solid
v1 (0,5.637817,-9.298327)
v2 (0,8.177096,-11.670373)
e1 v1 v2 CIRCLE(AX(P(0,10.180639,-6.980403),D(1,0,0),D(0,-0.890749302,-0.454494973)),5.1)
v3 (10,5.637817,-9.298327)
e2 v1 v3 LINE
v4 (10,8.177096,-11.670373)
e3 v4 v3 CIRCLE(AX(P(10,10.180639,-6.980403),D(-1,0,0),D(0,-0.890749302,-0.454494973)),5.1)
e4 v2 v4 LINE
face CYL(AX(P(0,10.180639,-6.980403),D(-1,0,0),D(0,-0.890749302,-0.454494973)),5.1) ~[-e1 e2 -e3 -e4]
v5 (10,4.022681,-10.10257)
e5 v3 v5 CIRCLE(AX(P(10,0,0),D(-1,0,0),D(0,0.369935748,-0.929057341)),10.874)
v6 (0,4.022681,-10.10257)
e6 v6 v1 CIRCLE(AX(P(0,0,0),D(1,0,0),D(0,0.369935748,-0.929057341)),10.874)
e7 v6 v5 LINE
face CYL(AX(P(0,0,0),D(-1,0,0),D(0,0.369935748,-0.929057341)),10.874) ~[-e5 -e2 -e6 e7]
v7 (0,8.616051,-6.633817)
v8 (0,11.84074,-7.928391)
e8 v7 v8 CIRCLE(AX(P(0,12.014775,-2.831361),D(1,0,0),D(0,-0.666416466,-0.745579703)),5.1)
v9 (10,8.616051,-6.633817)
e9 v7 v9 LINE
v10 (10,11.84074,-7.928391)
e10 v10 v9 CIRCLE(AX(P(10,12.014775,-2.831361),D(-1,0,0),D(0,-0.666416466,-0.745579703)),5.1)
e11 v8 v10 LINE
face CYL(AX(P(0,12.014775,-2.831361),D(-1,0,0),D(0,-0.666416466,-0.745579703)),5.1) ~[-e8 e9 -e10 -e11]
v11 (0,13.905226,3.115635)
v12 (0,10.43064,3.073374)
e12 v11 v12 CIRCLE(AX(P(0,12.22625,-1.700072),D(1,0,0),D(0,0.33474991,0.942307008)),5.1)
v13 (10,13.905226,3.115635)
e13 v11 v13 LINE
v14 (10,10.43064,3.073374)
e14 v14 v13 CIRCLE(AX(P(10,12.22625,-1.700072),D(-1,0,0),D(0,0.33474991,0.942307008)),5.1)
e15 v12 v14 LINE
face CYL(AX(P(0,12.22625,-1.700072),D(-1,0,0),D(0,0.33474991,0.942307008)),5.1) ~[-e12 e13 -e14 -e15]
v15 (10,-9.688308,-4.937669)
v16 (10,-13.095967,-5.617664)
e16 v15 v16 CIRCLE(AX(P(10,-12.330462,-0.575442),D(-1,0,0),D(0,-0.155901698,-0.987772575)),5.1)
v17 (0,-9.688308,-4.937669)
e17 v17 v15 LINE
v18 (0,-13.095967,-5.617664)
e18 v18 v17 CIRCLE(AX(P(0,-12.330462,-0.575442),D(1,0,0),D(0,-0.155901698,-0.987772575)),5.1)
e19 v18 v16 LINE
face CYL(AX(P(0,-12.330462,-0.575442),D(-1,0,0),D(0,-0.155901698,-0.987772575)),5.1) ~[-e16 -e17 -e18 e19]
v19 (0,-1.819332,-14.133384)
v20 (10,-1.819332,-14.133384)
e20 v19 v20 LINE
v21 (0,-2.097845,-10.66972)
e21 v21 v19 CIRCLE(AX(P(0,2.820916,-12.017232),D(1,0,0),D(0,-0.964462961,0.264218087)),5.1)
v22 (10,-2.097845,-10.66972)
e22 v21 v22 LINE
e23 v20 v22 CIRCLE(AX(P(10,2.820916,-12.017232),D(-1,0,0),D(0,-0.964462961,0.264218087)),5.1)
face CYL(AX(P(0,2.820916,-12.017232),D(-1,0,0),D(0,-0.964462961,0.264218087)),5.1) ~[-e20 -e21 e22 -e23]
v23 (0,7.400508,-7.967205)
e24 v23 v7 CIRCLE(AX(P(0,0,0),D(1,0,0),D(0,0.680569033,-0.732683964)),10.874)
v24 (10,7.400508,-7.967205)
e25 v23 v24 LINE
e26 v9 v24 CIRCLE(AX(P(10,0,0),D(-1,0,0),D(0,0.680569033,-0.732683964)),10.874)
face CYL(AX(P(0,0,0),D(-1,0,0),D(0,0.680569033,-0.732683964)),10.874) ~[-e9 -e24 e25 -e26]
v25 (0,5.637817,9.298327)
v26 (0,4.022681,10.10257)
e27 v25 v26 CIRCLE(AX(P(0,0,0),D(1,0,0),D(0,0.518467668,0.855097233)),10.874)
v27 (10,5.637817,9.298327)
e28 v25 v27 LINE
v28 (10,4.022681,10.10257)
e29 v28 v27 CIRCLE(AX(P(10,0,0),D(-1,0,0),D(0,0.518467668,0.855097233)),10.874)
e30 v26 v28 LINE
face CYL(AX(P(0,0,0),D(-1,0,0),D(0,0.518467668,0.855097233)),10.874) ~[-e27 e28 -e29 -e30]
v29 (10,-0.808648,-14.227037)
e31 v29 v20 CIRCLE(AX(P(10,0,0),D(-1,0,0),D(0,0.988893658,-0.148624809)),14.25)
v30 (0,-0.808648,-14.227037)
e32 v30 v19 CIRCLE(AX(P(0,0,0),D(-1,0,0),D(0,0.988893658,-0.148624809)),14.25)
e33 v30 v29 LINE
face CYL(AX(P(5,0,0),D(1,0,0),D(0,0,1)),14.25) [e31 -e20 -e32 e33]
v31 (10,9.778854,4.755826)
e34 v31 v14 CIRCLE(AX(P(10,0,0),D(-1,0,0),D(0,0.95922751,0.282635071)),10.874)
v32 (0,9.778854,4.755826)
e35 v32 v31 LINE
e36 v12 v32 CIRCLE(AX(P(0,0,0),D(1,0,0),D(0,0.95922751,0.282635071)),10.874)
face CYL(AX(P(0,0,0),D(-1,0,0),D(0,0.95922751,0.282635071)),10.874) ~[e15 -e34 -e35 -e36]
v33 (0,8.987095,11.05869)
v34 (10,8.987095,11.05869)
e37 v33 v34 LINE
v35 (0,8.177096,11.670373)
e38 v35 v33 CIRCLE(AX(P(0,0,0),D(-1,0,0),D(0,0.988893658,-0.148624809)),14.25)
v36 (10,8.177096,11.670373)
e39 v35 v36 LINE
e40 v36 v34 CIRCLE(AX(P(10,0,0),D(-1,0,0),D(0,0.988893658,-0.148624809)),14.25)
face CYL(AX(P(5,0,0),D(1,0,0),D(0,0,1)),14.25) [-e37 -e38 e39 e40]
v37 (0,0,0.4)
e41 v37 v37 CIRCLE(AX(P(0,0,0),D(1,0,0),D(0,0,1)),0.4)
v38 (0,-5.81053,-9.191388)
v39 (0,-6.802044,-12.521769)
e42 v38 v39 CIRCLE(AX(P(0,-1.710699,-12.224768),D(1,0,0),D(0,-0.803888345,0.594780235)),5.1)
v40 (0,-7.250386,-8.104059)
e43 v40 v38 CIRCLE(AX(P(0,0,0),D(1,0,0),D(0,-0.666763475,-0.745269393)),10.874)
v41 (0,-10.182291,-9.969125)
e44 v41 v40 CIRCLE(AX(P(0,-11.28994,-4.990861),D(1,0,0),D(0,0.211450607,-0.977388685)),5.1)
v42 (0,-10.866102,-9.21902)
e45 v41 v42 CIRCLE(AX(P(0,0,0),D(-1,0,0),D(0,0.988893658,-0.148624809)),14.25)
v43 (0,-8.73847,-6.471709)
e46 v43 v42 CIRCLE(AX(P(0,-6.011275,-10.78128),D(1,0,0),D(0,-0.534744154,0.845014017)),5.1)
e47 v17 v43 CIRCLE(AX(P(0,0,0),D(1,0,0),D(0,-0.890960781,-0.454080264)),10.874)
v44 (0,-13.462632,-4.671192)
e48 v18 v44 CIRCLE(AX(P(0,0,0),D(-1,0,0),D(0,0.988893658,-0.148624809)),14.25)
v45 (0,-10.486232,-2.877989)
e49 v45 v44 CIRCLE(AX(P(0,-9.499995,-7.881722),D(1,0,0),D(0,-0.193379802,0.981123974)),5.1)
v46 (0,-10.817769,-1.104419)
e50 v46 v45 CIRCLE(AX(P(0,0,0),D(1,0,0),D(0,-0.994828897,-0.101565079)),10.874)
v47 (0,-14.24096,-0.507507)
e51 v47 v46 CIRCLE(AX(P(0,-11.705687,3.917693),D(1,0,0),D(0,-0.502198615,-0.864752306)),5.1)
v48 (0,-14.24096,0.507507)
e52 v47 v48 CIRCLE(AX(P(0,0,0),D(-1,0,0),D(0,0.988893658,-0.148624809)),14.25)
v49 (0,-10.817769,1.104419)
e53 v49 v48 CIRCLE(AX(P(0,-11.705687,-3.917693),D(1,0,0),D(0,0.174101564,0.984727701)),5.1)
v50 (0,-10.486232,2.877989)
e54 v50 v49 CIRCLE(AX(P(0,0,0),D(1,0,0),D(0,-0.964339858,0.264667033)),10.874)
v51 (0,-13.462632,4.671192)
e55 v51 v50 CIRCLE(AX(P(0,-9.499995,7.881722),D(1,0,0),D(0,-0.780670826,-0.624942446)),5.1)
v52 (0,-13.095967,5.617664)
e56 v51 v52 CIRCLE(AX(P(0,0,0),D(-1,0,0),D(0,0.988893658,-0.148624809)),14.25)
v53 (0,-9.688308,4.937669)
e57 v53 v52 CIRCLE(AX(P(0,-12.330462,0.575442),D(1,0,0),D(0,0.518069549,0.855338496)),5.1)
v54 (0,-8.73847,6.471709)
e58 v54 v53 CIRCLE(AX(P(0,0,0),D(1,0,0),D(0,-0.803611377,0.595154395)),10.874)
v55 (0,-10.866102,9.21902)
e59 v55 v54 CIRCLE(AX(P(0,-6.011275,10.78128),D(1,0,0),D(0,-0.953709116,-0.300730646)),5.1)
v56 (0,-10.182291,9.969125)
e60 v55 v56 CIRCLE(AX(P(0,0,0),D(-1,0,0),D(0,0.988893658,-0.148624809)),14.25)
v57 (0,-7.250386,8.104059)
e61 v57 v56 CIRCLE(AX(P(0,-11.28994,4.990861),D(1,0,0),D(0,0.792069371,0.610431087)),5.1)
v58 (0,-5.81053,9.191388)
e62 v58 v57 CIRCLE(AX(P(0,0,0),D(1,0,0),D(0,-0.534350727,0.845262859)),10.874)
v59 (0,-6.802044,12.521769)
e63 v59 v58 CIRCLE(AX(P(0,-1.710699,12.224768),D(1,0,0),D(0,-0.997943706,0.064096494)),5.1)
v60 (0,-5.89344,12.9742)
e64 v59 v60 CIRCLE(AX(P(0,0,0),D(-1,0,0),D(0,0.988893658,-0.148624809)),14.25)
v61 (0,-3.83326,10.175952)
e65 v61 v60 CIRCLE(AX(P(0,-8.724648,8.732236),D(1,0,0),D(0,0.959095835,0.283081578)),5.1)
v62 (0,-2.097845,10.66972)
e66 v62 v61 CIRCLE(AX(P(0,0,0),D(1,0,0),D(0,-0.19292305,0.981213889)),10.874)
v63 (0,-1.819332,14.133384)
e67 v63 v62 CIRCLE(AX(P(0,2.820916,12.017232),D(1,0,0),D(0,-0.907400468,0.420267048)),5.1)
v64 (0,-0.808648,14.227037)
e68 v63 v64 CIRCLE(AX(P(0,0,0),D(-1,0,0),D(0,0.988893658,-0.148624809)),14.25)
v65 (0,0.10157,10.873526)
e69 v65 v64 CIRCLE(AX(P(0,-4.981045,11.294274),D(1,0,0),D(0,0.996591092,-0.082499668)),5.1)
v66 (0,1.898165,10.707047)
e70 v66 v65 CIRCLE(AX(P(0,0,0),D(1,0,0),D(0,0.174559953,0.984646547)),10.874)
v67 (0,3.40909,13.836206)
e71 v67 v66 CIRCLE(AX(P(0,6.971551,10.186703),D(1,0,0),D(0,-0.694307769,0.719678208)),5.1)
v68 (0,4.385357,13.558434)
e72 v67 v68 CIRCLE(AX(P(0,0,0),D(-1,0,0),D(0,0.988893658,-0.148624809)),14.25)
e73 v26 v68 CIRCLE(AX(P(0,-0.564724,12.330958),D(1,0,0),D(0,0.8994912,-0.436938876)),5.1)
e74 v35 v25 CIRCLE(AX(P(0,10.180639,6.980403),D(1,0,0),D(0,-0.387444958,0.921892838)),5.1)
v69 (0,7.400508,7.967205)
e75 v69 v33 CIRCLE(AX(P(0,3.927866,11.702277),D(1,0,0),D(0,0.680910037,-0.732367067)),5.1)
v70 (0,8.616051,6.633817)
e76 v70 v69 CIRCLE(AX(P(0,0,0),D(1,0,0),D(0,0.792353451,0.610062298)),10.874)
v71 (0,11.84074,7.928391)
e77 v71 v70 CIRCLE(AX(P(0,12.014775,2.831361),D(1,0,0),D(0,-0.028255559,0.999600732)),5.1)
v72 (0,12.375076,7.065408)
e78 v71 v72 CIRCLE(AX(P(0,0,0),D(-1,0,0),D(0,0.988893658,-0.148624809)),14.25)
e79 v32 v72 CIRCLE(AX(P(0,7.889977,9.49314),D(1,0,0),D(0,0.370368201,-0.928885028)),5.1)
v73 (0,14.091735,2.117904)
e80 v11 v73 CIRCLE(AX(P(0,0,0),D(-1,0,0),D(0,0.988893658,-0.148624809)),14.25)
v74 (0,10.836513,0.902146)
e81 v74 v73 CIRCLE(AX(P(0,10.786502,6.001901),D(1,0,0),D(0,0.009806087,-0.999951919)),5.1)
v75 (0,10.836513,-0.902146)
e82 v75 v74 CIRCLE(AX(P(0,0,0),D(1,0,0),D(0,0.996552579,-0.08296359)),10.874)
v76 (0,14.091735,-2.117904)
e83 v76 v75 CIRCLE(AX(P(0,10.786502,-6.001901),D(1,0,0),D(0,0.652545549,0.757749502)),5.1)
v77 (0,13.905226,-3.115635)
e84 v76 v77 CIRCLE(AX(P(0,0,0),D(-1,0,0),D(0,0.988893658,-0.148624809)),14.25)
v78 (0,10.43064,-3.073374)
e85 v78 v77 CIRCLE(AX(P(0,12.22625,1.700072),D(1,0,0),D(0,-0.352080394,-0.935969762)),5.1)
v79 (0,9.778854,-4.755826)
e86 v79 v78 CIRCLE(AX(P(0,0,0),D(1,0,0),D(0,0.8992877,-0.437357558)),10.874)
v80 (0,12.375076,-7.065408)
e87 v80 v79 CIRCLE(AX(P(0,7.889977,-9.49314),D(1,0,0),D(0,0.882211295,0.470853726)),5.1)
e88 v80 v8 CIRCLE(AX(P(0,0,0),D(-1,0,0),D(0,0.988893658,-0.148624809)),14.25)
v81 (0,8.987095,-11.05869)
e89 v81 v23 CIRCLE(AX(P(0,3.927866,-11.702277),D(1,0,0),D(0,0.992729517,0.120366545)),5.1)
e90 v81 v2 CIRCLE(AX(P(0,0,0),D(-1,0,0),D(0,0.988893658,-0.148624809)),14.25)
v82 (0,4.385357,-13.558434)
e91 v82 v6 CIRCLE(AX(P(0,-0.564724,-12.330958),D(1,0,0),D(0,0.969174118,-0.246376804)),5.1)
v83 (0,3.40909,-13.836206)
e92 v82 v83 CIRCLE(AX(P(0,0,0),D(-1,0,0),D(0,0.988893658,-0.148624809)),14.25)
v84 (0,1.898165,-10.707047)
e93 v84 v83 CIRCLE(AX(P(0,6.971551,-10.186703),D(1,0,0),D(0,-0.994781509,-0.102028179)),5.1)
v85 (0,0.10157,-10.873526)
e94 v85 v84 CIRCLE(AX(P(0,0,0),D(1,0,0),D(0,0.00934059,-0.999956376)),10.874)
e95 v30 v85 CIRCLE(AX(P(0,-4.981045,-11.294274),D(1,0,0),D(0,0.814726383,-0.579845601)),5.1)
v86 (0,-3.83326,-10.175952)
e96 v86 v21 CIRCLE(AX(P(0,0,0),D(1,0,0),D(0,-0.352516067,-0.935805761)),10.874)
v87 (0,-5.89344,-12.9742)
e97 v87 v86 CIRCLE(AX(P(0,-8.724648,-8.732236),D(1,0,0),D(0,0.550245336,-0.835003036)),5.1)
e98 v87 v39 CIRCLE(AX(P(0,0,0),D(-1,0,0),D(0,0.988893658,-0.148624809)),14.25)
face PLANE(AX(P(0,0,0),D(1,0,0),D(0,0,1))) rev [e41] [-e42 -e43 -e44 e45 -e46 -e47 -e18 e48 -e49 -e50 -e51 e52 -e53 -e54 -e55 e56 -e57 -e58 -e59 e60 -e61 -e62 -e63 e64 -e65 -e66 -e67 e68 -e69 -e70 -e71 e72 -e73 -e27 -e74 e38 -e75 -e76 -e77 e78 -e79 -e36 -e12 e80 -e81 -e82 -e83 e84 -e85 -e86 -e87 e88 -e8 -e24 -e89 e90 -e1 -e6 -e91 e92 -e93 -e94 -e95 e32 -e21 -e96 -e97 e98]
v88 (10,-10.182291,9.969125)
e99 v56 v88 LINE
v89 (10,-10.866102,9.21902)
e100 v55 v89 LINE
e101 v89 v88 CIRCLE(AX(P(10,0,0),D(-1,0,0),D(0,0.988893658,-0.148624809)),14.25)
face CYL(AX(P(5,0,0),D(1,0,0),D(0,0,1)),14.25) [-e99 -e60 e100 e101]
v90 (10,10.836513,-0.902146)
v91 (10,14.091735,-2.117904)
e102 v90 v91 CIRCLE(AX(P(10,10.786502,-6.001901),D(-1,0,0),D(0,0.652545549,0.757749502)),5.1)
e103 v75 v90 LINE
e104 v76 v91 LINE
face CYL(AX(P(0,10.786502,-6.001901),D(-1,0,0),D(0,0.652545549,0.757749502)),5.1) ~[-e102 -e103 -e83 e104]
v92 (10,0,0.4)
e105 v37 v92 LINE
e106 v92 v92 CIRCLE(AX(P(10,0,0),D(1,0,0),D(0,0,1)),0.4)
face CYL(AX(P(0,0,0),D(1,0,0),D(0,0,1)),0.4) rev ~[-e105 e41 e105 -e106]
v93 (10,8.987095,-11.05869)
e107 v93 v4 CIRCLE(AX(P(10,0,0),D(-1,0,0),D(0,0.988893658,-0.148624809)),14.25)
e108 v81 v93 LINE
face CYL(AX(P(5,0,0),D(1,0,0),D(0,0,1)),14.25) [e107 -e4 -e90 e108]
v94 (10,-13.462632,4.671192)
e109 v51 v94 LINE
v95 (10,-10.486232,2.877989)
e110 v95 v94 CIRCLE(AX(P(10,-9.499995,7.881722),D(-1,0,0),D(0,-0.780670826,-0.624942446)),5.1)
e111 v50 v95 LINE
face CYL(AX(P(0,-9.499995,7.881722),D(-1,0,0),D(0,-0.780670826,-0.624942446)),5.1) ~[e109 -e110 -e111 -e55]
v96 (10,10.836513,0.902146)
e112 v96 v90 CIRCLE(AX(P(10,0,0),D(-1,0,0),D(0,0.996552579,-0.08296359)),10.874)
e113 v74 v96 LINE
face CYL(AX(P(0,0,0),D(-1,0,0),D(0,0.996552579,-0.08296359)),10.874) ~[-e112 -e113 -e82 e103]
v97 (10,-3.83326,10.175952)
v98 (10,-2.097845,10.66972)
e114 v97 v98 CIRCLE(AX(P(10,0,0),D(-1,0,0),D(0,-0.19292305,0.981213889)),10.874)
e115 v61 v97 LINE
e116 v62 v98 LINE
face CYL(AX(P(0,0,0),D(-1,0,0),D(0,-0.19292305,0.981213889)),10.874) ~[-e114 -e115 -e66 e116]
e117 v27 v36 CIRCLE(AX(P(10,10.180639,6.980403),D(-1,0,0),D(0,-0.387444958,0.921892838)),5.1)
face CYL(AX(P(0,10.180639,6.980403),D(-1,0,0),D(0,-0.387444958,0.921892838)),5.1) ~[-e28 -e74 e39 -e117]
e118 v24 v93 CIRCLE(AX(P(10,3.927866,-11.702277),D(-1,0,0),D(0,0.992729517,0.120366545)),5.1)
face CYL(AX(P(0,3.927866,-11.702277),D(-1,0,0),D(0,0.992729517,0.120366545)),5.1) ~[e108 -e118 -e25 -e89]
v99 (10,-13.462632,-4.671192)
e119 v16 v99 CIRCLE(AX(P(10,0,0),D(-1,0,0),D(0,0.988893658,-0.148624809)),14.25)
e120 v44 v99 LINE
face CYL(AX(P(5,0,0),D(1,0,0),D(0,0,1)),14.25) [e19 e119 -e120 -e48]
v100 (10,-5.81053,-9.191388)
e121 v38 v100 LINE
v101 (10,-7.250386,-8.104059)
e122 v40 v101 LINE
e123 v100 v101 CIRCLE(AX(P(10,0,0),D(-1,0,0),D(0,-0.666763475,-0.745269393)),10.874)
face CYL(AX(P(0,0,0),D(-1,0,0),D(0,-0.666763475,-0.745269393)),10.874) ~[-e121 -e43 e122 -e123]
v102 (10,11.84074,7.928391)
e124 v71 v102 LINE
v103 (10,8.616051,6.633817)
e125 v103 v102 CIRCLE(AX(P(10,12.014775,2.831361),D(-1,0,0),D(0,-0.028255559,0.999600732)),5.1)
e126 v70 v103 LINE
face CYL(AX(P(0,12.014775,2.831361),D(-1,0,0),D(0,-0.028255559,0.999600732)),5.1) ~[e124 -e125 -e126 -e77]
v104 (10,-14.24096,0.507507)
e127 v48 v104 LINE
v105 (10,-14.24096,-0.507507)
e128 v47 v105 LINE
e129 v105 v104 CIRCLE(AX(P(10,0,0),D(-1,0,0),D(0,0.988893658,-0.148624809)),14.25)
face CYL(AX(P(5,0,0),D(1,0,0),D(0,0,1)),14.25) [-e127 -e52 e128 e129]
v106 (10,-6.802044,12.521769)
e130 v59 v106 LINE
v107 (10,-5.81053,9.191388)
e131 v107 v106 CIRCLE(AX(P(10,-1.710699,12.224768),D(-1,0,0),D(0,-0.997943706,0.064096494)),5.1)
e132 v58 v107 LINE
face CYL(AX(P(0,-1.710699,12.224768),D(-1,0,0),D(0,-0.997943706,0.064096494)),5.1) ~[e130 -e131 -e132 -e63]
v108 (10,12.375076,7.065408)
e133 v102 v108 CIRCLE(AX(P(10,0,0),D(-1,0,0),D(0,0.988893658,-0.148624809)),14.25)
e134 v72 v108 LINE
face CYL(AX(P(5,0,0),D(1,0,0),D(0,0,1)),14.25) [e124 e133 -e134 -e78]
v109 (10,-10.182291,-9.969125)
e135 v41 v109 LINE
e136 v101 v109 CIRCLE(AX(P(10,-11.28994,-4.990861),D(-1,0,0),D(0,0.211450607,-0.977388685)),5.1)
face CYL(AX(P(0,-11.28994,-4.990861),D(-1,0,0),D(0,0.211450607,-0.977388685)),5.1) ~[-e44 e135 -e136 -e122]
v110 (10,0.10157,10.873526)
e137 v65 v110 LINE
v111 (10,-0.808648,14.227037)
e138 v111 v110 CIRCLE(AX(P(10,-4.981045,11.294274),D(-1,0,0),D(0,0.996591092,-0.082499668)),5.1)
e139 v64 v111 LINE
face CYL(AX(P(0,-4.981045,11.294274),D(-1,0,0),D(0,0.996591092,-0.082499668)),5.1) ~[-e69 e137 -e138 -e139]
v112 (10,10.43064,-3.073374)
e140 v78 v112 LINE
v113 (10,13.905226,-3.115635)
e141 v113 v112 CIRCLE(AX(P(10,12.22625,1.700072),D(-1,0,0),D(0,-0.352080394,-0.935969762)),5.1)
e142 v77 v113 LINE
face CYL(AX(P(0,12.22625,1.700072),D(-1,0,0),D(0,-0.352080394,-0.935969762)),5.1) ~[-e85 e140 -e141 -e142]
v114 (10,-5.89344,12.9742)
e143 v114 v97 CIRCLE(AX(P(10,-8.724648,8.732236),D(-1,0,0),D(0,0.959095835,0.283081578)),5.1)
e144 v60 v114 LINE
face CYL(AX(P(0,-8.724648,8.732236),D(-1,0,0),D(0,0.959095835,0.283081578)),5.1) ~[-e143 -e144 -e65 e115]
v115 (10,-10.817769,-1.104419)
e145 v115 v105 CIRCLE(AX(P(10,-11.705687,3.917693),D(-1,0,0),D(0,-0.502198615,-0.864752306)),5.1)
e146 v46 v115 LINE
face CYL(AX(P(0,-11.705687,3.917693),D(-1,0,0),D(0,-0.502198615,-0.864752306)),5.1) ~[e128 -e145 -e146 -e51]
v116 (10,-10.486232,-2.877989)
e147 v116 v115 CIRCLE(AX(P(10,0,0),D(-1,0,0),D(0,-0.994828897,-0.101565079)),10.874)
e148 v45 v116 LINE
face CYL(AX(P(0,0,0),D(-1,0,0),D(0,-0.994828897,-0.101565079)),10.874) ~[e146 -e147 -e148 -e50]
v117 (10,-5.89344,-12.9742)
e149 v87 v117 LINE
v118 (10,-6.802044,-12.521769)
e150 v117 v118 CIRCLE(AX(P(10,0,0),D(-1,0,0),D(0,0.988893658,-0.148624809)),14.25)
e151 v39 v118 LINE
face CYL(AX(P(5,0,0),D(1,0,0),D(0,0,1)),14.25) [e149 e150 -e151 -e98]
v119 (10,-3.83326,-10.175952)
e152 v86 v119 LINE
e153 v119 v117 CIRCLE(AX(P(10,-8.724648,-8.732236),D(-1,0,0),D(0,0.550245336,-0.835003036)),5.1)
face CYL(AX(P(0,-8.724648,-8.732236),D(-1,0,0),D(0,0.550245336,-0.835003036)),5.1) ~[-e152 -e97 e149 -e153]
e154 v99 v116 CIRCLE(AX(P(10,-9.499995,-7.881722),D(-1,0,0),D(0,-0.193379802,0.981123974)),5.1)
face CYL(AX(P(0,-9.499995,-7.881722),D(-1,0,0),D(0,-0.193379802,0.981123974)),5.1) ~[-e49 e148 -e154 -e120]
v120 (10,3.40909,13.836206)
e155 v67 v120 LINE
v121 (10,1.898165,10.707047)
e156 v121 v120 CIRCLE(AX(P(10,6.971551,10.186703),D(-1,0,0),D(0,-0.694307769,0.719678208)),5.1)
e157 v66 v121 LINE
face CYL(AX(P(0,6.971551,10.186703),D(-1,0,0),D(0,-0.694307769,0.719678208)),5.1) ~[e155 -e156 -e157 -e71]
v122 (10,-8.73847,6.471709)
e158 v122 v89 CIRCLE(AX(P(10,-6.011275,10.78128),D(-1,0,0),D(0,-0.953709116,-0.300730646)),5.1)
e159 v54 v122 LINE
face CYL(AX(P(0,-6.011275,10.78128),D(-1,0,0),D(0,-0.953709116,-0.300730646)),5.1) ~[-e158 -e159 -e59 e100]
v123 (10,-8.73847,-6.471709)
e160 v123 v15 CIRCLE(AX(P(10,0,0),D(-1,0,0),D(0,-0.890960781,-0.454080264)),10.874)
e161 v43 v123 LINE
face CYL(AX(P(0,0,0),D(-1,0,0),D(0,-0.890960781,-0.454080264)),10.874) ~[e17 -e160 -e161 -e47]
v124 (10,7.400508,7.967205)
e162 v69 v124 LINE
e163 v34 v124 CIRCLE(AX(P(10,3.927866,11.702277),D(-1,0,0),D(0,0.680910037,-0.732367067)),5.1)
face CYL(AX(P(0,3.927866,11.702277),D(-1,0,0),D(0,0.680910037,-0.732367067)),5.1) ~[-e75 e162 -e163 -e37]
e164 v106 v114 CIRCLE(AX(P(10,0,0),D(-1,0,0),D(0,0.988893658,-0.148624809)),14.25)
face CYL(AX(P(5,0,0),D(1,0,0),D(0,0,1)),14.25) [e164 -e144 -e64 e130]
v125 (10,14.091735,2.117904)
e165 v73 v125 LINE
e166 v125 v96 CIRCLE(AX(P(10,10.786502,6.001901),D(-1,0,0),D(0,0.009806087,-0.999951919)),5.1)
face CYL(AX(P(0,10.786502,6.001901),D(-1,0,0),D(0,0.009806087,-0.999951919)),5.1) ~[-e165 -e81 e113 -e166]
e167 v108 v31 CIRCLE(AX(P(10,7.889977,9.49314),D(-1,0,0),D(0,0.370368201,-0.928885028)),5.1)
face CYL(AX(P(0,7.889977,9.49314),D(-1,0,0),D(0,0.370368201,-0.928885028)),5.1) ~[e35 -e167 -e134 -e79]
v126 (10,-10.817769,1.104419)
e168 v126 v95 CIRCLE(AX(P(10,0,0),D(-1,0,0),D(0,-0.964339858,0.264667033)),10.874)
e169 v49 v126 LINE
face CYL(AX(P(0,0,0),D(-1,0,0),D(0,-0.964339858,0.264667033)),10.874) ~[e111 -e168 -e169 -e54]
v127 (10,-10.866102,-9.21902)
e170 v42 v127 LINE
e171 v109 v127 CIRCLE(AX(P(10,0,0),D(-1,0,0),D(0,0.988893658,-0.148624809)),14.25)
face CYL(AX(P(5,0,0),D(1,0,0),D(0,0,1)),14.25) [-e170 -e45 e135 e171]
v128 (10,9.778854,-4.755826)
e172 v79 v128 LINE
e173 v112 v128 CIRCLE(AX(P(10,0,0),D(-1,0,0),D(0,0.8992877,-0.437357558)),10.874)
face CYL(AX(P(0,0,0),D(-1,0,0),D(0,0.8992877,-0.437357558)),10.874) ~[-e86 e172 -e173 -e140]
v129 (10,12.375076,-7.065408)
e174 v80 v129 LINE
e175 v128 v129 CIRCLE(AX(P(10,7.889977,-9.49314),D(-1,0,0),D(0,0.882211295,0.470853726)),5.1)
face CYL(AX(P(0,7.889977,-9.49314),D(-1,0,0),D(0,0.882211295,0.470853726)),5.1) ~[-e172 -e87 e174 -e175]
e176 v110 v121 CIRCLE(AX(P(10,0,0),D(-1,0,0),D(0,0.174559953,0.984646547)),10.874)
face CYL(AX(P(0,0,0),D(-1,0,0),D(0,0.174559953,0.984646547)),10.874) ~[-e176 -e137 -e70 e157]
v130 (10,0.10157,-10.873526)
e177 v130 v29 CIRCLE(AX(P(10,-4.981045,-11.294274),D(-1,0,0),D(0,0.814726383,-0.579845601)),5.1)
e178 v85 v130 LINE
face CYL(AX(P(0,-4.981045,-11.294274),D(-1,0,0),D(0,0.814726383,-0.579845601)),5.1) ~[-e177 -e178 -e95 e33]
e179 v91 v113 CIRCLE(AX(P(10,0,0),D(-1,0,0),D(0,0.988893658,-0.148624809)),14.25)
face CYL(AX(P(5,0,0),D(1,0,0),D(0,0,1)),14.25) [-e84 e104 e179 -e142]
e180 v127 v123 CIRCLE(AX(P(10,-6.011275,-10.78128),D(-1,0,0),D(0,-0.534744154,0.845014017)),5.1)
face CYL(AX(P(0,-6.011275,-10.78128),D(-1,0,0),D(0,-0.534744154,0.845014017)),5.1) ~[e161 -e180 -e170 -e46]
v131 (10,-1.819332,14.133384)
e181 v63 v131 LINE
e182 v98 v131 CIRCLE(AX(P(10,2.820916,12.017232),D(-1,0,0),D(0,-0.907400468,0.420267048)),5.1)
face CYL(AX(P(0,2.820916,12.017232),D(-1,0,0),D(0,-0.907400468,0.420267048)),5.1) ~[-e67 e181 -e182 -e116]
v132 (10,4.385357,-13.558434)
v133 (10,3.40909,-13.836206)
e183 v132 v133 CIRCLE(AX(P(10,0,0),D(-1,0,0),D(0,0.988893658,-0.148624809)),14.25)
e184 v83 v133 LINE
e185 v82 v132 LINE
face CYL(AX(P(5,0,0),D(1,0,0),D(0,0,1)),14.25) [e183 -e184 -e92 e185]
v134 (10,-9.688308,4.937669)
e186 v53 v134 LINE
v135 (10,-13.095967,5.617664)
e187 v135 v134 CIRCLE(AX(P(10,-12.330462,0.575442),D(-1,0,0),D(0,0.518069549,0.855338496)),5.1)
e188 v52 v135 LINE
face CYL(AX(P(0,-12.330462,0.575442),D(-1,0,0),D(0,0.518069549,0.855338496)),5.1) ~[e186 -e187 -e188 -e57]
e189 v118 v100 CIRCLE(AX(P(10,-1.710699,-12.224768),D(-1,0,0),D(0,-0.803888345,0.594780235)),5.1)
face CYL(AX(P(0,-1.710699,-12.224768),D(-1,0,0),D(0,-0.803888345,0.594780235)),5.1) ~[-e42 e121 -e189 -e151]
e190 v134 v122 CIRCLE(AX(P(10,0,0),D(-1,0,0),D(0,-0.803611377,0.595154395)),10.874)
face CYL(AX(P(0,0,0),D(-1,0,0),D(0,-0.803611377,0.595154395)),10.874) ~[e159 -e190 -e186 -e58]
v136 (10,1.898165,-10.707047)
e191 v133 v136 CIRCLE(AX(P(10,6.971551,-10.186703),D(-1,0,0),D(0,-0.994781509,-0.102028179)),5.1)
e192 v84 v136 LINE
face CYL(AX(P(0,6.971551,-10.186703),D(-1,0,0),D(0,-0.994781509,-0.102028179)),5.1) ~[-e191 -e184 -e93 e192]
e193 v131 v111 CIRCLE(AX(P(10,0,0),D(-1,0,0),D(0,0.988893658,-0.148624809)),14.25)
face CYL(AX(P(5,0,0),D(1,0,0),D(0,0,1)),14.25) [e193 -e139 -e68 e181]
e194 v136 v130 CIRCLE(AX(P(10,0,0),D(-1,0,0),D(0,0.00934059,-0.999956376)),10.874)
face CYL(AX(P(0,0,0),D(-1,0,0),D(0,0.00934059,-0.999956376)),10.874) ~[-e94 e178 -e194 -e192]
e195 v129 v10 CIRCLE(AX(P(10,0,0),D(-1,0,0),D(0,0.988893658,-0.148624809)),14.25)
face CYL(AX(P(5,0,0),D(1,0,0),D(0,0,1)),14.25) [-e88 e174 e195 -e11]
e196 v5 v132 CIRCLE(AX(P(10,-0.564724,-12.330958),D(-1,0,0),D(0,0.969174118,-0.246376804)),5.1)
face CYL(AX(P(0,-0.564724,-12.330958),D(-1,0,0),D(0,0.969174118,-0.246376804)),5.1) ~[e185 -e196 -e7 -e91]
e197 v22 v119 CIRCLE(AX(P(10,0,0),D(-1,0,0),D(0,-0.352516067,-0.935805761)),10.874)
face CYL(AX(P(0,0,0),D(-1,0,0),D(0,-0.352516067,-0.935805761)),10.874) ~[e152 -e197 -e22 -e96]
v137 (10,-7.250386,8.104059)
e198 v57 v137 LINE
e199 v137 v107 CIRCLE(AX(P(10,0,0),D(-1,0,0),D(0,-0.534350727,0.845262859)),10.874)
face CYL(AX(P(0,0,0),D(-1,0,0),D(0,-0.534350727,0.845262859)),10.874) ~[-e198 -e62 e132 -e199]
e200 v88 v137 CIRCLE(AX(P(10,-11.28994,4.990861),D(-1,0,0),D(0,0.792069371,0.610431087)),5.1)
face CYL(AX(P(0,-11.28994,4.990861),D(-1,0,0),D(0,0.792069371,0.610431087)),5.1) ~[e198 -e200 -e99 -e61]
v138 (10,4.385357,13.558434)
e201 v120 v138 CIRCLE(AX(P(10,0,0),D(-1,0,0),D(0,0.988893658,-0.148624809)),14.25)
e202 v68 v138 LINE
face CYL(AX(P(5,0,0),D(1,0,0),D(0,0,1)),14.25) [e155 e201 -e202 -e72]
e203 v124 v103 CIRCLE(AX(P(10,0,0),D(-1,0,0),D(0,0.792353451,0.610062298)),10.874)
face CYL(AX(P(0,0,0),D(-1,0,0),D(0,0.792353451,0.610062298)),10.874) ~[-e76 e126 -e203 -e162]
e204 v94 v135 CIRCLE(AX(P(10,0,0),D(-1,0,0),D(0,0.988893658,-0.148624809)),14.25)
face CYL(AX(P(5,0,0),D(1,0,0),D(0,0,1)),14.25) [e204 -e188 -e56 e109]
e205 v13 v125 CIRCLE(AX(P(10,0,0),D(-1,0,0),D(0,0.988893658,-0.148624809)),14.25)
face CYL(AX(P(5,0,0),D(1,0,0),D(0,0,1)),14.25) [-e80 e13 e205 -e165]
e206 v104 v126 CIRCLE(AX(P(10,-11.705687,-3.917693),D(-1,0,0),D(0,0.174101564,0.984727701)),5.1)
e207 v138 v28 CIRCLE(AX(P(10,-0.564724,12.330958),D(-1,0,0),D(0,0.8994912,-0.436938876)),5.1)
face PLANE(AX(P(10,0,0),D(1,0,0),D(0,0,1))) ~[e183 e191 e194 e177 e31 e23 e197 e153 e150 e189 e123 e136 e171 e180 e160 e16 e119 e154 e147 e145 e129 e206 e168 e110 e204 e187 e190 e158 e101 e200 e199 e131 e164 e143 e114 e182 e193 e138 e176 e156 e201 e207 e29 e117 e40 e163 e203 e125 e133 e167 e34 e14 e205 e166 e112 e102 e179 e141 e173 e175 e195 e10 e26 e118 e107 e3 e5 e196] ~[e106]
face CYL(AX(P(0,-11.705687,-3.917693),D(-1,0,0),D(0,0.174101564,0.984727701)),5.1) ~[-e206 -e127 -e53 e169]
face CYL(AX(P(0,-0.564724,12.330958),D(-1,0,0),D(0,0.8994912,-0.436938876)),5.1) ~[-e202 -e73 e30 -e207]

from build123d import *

# Parameters (mm, degrees)
BASPROSKE_W     = 10
BASPROSKE_H     = 14.25
TOOTHCUT_DEPTH  = 23.497222051
TEETHCUTS_COUNT = 17
TEETHCUTS_ANGLE = 338.823529412
BORSKE_R        = 0.4
BORE_DEPTH      = 50.0000508


with BuildPart() as part:
    # BasProSke → Base-Revolve (revolve)
    with BuildSketch(Plane(origin=(0, 0, 0), x_dir=(1, 0, 0), z_dir=(0, 1, 0)), mode=Mode.PRIVATE) as base_revolve_sk:
        with Locations((5, 7.125)):
            Rectangle(BASPROSKE_W, BASPROSKE_H)
    revolve(base_revolve_sk.sketch.rotate(Axis((-10, 0, 0), (1, 0, 0)), 180), axis=Axis((-10, 0, 0), (1, 0, 0)))

    # TooCutSke → ToothCut (cut, through all)
    with BuildSketch(Plane(origin=(0, 0, 0), x_dir=(0, 0, -1), z_dir=(1, 0, 0))):
        with BuildLine():
            ThreePointArc((0.902146084, 10.836512744), (0, 10.874), (-0.902146084, 10.836512744))
            ThreePointArc((-0.902146084, 10.836512744), (-1.229496811, 12.584878605), (-2.137378415, 14.114484003))
            ThreePointArc((-2.137378415, 14.114484003), (0, 14.2754), (2.137378415, 14.114484003))
            ThreePointArc((2.137378415, 14.114484003), (1.229496811, 12.584878605), (0.902146084, 10.836512744))
        make_face()
    toothcut = extrude(amount=TOOTHCUT_DEPTH, mode=Mode.SUBTRACT)

    # TeethCuts: ToothCut ×17 about axis
    teethcuts_axis = Axis((-10, 0, 0), (1, 0, 0))
    for i in range(1, TEETHCUTS_COUNT):
        add(toothcut.rotate(teethcuts_axis, i * TEETHCUTS_ANGLE / (TEETHCUTS_COUNT - 1)), mode=Mode.SUBTRACT)

    # BorSke → Bore (cut, symmetric)
    with BuildSketch(Plane(origin=(0, 0, 0), x_dir=(0, 0, -1), z_dir=(1, 0, 0))):
        with Locations(Location((0, 0, 0), (0, 0, 180))):
            Circle(BORSKE_R)
    extrude(amount=BORE_DEPTH, both=True, mode=Mode.SUBTRACT)


solid = part.part
